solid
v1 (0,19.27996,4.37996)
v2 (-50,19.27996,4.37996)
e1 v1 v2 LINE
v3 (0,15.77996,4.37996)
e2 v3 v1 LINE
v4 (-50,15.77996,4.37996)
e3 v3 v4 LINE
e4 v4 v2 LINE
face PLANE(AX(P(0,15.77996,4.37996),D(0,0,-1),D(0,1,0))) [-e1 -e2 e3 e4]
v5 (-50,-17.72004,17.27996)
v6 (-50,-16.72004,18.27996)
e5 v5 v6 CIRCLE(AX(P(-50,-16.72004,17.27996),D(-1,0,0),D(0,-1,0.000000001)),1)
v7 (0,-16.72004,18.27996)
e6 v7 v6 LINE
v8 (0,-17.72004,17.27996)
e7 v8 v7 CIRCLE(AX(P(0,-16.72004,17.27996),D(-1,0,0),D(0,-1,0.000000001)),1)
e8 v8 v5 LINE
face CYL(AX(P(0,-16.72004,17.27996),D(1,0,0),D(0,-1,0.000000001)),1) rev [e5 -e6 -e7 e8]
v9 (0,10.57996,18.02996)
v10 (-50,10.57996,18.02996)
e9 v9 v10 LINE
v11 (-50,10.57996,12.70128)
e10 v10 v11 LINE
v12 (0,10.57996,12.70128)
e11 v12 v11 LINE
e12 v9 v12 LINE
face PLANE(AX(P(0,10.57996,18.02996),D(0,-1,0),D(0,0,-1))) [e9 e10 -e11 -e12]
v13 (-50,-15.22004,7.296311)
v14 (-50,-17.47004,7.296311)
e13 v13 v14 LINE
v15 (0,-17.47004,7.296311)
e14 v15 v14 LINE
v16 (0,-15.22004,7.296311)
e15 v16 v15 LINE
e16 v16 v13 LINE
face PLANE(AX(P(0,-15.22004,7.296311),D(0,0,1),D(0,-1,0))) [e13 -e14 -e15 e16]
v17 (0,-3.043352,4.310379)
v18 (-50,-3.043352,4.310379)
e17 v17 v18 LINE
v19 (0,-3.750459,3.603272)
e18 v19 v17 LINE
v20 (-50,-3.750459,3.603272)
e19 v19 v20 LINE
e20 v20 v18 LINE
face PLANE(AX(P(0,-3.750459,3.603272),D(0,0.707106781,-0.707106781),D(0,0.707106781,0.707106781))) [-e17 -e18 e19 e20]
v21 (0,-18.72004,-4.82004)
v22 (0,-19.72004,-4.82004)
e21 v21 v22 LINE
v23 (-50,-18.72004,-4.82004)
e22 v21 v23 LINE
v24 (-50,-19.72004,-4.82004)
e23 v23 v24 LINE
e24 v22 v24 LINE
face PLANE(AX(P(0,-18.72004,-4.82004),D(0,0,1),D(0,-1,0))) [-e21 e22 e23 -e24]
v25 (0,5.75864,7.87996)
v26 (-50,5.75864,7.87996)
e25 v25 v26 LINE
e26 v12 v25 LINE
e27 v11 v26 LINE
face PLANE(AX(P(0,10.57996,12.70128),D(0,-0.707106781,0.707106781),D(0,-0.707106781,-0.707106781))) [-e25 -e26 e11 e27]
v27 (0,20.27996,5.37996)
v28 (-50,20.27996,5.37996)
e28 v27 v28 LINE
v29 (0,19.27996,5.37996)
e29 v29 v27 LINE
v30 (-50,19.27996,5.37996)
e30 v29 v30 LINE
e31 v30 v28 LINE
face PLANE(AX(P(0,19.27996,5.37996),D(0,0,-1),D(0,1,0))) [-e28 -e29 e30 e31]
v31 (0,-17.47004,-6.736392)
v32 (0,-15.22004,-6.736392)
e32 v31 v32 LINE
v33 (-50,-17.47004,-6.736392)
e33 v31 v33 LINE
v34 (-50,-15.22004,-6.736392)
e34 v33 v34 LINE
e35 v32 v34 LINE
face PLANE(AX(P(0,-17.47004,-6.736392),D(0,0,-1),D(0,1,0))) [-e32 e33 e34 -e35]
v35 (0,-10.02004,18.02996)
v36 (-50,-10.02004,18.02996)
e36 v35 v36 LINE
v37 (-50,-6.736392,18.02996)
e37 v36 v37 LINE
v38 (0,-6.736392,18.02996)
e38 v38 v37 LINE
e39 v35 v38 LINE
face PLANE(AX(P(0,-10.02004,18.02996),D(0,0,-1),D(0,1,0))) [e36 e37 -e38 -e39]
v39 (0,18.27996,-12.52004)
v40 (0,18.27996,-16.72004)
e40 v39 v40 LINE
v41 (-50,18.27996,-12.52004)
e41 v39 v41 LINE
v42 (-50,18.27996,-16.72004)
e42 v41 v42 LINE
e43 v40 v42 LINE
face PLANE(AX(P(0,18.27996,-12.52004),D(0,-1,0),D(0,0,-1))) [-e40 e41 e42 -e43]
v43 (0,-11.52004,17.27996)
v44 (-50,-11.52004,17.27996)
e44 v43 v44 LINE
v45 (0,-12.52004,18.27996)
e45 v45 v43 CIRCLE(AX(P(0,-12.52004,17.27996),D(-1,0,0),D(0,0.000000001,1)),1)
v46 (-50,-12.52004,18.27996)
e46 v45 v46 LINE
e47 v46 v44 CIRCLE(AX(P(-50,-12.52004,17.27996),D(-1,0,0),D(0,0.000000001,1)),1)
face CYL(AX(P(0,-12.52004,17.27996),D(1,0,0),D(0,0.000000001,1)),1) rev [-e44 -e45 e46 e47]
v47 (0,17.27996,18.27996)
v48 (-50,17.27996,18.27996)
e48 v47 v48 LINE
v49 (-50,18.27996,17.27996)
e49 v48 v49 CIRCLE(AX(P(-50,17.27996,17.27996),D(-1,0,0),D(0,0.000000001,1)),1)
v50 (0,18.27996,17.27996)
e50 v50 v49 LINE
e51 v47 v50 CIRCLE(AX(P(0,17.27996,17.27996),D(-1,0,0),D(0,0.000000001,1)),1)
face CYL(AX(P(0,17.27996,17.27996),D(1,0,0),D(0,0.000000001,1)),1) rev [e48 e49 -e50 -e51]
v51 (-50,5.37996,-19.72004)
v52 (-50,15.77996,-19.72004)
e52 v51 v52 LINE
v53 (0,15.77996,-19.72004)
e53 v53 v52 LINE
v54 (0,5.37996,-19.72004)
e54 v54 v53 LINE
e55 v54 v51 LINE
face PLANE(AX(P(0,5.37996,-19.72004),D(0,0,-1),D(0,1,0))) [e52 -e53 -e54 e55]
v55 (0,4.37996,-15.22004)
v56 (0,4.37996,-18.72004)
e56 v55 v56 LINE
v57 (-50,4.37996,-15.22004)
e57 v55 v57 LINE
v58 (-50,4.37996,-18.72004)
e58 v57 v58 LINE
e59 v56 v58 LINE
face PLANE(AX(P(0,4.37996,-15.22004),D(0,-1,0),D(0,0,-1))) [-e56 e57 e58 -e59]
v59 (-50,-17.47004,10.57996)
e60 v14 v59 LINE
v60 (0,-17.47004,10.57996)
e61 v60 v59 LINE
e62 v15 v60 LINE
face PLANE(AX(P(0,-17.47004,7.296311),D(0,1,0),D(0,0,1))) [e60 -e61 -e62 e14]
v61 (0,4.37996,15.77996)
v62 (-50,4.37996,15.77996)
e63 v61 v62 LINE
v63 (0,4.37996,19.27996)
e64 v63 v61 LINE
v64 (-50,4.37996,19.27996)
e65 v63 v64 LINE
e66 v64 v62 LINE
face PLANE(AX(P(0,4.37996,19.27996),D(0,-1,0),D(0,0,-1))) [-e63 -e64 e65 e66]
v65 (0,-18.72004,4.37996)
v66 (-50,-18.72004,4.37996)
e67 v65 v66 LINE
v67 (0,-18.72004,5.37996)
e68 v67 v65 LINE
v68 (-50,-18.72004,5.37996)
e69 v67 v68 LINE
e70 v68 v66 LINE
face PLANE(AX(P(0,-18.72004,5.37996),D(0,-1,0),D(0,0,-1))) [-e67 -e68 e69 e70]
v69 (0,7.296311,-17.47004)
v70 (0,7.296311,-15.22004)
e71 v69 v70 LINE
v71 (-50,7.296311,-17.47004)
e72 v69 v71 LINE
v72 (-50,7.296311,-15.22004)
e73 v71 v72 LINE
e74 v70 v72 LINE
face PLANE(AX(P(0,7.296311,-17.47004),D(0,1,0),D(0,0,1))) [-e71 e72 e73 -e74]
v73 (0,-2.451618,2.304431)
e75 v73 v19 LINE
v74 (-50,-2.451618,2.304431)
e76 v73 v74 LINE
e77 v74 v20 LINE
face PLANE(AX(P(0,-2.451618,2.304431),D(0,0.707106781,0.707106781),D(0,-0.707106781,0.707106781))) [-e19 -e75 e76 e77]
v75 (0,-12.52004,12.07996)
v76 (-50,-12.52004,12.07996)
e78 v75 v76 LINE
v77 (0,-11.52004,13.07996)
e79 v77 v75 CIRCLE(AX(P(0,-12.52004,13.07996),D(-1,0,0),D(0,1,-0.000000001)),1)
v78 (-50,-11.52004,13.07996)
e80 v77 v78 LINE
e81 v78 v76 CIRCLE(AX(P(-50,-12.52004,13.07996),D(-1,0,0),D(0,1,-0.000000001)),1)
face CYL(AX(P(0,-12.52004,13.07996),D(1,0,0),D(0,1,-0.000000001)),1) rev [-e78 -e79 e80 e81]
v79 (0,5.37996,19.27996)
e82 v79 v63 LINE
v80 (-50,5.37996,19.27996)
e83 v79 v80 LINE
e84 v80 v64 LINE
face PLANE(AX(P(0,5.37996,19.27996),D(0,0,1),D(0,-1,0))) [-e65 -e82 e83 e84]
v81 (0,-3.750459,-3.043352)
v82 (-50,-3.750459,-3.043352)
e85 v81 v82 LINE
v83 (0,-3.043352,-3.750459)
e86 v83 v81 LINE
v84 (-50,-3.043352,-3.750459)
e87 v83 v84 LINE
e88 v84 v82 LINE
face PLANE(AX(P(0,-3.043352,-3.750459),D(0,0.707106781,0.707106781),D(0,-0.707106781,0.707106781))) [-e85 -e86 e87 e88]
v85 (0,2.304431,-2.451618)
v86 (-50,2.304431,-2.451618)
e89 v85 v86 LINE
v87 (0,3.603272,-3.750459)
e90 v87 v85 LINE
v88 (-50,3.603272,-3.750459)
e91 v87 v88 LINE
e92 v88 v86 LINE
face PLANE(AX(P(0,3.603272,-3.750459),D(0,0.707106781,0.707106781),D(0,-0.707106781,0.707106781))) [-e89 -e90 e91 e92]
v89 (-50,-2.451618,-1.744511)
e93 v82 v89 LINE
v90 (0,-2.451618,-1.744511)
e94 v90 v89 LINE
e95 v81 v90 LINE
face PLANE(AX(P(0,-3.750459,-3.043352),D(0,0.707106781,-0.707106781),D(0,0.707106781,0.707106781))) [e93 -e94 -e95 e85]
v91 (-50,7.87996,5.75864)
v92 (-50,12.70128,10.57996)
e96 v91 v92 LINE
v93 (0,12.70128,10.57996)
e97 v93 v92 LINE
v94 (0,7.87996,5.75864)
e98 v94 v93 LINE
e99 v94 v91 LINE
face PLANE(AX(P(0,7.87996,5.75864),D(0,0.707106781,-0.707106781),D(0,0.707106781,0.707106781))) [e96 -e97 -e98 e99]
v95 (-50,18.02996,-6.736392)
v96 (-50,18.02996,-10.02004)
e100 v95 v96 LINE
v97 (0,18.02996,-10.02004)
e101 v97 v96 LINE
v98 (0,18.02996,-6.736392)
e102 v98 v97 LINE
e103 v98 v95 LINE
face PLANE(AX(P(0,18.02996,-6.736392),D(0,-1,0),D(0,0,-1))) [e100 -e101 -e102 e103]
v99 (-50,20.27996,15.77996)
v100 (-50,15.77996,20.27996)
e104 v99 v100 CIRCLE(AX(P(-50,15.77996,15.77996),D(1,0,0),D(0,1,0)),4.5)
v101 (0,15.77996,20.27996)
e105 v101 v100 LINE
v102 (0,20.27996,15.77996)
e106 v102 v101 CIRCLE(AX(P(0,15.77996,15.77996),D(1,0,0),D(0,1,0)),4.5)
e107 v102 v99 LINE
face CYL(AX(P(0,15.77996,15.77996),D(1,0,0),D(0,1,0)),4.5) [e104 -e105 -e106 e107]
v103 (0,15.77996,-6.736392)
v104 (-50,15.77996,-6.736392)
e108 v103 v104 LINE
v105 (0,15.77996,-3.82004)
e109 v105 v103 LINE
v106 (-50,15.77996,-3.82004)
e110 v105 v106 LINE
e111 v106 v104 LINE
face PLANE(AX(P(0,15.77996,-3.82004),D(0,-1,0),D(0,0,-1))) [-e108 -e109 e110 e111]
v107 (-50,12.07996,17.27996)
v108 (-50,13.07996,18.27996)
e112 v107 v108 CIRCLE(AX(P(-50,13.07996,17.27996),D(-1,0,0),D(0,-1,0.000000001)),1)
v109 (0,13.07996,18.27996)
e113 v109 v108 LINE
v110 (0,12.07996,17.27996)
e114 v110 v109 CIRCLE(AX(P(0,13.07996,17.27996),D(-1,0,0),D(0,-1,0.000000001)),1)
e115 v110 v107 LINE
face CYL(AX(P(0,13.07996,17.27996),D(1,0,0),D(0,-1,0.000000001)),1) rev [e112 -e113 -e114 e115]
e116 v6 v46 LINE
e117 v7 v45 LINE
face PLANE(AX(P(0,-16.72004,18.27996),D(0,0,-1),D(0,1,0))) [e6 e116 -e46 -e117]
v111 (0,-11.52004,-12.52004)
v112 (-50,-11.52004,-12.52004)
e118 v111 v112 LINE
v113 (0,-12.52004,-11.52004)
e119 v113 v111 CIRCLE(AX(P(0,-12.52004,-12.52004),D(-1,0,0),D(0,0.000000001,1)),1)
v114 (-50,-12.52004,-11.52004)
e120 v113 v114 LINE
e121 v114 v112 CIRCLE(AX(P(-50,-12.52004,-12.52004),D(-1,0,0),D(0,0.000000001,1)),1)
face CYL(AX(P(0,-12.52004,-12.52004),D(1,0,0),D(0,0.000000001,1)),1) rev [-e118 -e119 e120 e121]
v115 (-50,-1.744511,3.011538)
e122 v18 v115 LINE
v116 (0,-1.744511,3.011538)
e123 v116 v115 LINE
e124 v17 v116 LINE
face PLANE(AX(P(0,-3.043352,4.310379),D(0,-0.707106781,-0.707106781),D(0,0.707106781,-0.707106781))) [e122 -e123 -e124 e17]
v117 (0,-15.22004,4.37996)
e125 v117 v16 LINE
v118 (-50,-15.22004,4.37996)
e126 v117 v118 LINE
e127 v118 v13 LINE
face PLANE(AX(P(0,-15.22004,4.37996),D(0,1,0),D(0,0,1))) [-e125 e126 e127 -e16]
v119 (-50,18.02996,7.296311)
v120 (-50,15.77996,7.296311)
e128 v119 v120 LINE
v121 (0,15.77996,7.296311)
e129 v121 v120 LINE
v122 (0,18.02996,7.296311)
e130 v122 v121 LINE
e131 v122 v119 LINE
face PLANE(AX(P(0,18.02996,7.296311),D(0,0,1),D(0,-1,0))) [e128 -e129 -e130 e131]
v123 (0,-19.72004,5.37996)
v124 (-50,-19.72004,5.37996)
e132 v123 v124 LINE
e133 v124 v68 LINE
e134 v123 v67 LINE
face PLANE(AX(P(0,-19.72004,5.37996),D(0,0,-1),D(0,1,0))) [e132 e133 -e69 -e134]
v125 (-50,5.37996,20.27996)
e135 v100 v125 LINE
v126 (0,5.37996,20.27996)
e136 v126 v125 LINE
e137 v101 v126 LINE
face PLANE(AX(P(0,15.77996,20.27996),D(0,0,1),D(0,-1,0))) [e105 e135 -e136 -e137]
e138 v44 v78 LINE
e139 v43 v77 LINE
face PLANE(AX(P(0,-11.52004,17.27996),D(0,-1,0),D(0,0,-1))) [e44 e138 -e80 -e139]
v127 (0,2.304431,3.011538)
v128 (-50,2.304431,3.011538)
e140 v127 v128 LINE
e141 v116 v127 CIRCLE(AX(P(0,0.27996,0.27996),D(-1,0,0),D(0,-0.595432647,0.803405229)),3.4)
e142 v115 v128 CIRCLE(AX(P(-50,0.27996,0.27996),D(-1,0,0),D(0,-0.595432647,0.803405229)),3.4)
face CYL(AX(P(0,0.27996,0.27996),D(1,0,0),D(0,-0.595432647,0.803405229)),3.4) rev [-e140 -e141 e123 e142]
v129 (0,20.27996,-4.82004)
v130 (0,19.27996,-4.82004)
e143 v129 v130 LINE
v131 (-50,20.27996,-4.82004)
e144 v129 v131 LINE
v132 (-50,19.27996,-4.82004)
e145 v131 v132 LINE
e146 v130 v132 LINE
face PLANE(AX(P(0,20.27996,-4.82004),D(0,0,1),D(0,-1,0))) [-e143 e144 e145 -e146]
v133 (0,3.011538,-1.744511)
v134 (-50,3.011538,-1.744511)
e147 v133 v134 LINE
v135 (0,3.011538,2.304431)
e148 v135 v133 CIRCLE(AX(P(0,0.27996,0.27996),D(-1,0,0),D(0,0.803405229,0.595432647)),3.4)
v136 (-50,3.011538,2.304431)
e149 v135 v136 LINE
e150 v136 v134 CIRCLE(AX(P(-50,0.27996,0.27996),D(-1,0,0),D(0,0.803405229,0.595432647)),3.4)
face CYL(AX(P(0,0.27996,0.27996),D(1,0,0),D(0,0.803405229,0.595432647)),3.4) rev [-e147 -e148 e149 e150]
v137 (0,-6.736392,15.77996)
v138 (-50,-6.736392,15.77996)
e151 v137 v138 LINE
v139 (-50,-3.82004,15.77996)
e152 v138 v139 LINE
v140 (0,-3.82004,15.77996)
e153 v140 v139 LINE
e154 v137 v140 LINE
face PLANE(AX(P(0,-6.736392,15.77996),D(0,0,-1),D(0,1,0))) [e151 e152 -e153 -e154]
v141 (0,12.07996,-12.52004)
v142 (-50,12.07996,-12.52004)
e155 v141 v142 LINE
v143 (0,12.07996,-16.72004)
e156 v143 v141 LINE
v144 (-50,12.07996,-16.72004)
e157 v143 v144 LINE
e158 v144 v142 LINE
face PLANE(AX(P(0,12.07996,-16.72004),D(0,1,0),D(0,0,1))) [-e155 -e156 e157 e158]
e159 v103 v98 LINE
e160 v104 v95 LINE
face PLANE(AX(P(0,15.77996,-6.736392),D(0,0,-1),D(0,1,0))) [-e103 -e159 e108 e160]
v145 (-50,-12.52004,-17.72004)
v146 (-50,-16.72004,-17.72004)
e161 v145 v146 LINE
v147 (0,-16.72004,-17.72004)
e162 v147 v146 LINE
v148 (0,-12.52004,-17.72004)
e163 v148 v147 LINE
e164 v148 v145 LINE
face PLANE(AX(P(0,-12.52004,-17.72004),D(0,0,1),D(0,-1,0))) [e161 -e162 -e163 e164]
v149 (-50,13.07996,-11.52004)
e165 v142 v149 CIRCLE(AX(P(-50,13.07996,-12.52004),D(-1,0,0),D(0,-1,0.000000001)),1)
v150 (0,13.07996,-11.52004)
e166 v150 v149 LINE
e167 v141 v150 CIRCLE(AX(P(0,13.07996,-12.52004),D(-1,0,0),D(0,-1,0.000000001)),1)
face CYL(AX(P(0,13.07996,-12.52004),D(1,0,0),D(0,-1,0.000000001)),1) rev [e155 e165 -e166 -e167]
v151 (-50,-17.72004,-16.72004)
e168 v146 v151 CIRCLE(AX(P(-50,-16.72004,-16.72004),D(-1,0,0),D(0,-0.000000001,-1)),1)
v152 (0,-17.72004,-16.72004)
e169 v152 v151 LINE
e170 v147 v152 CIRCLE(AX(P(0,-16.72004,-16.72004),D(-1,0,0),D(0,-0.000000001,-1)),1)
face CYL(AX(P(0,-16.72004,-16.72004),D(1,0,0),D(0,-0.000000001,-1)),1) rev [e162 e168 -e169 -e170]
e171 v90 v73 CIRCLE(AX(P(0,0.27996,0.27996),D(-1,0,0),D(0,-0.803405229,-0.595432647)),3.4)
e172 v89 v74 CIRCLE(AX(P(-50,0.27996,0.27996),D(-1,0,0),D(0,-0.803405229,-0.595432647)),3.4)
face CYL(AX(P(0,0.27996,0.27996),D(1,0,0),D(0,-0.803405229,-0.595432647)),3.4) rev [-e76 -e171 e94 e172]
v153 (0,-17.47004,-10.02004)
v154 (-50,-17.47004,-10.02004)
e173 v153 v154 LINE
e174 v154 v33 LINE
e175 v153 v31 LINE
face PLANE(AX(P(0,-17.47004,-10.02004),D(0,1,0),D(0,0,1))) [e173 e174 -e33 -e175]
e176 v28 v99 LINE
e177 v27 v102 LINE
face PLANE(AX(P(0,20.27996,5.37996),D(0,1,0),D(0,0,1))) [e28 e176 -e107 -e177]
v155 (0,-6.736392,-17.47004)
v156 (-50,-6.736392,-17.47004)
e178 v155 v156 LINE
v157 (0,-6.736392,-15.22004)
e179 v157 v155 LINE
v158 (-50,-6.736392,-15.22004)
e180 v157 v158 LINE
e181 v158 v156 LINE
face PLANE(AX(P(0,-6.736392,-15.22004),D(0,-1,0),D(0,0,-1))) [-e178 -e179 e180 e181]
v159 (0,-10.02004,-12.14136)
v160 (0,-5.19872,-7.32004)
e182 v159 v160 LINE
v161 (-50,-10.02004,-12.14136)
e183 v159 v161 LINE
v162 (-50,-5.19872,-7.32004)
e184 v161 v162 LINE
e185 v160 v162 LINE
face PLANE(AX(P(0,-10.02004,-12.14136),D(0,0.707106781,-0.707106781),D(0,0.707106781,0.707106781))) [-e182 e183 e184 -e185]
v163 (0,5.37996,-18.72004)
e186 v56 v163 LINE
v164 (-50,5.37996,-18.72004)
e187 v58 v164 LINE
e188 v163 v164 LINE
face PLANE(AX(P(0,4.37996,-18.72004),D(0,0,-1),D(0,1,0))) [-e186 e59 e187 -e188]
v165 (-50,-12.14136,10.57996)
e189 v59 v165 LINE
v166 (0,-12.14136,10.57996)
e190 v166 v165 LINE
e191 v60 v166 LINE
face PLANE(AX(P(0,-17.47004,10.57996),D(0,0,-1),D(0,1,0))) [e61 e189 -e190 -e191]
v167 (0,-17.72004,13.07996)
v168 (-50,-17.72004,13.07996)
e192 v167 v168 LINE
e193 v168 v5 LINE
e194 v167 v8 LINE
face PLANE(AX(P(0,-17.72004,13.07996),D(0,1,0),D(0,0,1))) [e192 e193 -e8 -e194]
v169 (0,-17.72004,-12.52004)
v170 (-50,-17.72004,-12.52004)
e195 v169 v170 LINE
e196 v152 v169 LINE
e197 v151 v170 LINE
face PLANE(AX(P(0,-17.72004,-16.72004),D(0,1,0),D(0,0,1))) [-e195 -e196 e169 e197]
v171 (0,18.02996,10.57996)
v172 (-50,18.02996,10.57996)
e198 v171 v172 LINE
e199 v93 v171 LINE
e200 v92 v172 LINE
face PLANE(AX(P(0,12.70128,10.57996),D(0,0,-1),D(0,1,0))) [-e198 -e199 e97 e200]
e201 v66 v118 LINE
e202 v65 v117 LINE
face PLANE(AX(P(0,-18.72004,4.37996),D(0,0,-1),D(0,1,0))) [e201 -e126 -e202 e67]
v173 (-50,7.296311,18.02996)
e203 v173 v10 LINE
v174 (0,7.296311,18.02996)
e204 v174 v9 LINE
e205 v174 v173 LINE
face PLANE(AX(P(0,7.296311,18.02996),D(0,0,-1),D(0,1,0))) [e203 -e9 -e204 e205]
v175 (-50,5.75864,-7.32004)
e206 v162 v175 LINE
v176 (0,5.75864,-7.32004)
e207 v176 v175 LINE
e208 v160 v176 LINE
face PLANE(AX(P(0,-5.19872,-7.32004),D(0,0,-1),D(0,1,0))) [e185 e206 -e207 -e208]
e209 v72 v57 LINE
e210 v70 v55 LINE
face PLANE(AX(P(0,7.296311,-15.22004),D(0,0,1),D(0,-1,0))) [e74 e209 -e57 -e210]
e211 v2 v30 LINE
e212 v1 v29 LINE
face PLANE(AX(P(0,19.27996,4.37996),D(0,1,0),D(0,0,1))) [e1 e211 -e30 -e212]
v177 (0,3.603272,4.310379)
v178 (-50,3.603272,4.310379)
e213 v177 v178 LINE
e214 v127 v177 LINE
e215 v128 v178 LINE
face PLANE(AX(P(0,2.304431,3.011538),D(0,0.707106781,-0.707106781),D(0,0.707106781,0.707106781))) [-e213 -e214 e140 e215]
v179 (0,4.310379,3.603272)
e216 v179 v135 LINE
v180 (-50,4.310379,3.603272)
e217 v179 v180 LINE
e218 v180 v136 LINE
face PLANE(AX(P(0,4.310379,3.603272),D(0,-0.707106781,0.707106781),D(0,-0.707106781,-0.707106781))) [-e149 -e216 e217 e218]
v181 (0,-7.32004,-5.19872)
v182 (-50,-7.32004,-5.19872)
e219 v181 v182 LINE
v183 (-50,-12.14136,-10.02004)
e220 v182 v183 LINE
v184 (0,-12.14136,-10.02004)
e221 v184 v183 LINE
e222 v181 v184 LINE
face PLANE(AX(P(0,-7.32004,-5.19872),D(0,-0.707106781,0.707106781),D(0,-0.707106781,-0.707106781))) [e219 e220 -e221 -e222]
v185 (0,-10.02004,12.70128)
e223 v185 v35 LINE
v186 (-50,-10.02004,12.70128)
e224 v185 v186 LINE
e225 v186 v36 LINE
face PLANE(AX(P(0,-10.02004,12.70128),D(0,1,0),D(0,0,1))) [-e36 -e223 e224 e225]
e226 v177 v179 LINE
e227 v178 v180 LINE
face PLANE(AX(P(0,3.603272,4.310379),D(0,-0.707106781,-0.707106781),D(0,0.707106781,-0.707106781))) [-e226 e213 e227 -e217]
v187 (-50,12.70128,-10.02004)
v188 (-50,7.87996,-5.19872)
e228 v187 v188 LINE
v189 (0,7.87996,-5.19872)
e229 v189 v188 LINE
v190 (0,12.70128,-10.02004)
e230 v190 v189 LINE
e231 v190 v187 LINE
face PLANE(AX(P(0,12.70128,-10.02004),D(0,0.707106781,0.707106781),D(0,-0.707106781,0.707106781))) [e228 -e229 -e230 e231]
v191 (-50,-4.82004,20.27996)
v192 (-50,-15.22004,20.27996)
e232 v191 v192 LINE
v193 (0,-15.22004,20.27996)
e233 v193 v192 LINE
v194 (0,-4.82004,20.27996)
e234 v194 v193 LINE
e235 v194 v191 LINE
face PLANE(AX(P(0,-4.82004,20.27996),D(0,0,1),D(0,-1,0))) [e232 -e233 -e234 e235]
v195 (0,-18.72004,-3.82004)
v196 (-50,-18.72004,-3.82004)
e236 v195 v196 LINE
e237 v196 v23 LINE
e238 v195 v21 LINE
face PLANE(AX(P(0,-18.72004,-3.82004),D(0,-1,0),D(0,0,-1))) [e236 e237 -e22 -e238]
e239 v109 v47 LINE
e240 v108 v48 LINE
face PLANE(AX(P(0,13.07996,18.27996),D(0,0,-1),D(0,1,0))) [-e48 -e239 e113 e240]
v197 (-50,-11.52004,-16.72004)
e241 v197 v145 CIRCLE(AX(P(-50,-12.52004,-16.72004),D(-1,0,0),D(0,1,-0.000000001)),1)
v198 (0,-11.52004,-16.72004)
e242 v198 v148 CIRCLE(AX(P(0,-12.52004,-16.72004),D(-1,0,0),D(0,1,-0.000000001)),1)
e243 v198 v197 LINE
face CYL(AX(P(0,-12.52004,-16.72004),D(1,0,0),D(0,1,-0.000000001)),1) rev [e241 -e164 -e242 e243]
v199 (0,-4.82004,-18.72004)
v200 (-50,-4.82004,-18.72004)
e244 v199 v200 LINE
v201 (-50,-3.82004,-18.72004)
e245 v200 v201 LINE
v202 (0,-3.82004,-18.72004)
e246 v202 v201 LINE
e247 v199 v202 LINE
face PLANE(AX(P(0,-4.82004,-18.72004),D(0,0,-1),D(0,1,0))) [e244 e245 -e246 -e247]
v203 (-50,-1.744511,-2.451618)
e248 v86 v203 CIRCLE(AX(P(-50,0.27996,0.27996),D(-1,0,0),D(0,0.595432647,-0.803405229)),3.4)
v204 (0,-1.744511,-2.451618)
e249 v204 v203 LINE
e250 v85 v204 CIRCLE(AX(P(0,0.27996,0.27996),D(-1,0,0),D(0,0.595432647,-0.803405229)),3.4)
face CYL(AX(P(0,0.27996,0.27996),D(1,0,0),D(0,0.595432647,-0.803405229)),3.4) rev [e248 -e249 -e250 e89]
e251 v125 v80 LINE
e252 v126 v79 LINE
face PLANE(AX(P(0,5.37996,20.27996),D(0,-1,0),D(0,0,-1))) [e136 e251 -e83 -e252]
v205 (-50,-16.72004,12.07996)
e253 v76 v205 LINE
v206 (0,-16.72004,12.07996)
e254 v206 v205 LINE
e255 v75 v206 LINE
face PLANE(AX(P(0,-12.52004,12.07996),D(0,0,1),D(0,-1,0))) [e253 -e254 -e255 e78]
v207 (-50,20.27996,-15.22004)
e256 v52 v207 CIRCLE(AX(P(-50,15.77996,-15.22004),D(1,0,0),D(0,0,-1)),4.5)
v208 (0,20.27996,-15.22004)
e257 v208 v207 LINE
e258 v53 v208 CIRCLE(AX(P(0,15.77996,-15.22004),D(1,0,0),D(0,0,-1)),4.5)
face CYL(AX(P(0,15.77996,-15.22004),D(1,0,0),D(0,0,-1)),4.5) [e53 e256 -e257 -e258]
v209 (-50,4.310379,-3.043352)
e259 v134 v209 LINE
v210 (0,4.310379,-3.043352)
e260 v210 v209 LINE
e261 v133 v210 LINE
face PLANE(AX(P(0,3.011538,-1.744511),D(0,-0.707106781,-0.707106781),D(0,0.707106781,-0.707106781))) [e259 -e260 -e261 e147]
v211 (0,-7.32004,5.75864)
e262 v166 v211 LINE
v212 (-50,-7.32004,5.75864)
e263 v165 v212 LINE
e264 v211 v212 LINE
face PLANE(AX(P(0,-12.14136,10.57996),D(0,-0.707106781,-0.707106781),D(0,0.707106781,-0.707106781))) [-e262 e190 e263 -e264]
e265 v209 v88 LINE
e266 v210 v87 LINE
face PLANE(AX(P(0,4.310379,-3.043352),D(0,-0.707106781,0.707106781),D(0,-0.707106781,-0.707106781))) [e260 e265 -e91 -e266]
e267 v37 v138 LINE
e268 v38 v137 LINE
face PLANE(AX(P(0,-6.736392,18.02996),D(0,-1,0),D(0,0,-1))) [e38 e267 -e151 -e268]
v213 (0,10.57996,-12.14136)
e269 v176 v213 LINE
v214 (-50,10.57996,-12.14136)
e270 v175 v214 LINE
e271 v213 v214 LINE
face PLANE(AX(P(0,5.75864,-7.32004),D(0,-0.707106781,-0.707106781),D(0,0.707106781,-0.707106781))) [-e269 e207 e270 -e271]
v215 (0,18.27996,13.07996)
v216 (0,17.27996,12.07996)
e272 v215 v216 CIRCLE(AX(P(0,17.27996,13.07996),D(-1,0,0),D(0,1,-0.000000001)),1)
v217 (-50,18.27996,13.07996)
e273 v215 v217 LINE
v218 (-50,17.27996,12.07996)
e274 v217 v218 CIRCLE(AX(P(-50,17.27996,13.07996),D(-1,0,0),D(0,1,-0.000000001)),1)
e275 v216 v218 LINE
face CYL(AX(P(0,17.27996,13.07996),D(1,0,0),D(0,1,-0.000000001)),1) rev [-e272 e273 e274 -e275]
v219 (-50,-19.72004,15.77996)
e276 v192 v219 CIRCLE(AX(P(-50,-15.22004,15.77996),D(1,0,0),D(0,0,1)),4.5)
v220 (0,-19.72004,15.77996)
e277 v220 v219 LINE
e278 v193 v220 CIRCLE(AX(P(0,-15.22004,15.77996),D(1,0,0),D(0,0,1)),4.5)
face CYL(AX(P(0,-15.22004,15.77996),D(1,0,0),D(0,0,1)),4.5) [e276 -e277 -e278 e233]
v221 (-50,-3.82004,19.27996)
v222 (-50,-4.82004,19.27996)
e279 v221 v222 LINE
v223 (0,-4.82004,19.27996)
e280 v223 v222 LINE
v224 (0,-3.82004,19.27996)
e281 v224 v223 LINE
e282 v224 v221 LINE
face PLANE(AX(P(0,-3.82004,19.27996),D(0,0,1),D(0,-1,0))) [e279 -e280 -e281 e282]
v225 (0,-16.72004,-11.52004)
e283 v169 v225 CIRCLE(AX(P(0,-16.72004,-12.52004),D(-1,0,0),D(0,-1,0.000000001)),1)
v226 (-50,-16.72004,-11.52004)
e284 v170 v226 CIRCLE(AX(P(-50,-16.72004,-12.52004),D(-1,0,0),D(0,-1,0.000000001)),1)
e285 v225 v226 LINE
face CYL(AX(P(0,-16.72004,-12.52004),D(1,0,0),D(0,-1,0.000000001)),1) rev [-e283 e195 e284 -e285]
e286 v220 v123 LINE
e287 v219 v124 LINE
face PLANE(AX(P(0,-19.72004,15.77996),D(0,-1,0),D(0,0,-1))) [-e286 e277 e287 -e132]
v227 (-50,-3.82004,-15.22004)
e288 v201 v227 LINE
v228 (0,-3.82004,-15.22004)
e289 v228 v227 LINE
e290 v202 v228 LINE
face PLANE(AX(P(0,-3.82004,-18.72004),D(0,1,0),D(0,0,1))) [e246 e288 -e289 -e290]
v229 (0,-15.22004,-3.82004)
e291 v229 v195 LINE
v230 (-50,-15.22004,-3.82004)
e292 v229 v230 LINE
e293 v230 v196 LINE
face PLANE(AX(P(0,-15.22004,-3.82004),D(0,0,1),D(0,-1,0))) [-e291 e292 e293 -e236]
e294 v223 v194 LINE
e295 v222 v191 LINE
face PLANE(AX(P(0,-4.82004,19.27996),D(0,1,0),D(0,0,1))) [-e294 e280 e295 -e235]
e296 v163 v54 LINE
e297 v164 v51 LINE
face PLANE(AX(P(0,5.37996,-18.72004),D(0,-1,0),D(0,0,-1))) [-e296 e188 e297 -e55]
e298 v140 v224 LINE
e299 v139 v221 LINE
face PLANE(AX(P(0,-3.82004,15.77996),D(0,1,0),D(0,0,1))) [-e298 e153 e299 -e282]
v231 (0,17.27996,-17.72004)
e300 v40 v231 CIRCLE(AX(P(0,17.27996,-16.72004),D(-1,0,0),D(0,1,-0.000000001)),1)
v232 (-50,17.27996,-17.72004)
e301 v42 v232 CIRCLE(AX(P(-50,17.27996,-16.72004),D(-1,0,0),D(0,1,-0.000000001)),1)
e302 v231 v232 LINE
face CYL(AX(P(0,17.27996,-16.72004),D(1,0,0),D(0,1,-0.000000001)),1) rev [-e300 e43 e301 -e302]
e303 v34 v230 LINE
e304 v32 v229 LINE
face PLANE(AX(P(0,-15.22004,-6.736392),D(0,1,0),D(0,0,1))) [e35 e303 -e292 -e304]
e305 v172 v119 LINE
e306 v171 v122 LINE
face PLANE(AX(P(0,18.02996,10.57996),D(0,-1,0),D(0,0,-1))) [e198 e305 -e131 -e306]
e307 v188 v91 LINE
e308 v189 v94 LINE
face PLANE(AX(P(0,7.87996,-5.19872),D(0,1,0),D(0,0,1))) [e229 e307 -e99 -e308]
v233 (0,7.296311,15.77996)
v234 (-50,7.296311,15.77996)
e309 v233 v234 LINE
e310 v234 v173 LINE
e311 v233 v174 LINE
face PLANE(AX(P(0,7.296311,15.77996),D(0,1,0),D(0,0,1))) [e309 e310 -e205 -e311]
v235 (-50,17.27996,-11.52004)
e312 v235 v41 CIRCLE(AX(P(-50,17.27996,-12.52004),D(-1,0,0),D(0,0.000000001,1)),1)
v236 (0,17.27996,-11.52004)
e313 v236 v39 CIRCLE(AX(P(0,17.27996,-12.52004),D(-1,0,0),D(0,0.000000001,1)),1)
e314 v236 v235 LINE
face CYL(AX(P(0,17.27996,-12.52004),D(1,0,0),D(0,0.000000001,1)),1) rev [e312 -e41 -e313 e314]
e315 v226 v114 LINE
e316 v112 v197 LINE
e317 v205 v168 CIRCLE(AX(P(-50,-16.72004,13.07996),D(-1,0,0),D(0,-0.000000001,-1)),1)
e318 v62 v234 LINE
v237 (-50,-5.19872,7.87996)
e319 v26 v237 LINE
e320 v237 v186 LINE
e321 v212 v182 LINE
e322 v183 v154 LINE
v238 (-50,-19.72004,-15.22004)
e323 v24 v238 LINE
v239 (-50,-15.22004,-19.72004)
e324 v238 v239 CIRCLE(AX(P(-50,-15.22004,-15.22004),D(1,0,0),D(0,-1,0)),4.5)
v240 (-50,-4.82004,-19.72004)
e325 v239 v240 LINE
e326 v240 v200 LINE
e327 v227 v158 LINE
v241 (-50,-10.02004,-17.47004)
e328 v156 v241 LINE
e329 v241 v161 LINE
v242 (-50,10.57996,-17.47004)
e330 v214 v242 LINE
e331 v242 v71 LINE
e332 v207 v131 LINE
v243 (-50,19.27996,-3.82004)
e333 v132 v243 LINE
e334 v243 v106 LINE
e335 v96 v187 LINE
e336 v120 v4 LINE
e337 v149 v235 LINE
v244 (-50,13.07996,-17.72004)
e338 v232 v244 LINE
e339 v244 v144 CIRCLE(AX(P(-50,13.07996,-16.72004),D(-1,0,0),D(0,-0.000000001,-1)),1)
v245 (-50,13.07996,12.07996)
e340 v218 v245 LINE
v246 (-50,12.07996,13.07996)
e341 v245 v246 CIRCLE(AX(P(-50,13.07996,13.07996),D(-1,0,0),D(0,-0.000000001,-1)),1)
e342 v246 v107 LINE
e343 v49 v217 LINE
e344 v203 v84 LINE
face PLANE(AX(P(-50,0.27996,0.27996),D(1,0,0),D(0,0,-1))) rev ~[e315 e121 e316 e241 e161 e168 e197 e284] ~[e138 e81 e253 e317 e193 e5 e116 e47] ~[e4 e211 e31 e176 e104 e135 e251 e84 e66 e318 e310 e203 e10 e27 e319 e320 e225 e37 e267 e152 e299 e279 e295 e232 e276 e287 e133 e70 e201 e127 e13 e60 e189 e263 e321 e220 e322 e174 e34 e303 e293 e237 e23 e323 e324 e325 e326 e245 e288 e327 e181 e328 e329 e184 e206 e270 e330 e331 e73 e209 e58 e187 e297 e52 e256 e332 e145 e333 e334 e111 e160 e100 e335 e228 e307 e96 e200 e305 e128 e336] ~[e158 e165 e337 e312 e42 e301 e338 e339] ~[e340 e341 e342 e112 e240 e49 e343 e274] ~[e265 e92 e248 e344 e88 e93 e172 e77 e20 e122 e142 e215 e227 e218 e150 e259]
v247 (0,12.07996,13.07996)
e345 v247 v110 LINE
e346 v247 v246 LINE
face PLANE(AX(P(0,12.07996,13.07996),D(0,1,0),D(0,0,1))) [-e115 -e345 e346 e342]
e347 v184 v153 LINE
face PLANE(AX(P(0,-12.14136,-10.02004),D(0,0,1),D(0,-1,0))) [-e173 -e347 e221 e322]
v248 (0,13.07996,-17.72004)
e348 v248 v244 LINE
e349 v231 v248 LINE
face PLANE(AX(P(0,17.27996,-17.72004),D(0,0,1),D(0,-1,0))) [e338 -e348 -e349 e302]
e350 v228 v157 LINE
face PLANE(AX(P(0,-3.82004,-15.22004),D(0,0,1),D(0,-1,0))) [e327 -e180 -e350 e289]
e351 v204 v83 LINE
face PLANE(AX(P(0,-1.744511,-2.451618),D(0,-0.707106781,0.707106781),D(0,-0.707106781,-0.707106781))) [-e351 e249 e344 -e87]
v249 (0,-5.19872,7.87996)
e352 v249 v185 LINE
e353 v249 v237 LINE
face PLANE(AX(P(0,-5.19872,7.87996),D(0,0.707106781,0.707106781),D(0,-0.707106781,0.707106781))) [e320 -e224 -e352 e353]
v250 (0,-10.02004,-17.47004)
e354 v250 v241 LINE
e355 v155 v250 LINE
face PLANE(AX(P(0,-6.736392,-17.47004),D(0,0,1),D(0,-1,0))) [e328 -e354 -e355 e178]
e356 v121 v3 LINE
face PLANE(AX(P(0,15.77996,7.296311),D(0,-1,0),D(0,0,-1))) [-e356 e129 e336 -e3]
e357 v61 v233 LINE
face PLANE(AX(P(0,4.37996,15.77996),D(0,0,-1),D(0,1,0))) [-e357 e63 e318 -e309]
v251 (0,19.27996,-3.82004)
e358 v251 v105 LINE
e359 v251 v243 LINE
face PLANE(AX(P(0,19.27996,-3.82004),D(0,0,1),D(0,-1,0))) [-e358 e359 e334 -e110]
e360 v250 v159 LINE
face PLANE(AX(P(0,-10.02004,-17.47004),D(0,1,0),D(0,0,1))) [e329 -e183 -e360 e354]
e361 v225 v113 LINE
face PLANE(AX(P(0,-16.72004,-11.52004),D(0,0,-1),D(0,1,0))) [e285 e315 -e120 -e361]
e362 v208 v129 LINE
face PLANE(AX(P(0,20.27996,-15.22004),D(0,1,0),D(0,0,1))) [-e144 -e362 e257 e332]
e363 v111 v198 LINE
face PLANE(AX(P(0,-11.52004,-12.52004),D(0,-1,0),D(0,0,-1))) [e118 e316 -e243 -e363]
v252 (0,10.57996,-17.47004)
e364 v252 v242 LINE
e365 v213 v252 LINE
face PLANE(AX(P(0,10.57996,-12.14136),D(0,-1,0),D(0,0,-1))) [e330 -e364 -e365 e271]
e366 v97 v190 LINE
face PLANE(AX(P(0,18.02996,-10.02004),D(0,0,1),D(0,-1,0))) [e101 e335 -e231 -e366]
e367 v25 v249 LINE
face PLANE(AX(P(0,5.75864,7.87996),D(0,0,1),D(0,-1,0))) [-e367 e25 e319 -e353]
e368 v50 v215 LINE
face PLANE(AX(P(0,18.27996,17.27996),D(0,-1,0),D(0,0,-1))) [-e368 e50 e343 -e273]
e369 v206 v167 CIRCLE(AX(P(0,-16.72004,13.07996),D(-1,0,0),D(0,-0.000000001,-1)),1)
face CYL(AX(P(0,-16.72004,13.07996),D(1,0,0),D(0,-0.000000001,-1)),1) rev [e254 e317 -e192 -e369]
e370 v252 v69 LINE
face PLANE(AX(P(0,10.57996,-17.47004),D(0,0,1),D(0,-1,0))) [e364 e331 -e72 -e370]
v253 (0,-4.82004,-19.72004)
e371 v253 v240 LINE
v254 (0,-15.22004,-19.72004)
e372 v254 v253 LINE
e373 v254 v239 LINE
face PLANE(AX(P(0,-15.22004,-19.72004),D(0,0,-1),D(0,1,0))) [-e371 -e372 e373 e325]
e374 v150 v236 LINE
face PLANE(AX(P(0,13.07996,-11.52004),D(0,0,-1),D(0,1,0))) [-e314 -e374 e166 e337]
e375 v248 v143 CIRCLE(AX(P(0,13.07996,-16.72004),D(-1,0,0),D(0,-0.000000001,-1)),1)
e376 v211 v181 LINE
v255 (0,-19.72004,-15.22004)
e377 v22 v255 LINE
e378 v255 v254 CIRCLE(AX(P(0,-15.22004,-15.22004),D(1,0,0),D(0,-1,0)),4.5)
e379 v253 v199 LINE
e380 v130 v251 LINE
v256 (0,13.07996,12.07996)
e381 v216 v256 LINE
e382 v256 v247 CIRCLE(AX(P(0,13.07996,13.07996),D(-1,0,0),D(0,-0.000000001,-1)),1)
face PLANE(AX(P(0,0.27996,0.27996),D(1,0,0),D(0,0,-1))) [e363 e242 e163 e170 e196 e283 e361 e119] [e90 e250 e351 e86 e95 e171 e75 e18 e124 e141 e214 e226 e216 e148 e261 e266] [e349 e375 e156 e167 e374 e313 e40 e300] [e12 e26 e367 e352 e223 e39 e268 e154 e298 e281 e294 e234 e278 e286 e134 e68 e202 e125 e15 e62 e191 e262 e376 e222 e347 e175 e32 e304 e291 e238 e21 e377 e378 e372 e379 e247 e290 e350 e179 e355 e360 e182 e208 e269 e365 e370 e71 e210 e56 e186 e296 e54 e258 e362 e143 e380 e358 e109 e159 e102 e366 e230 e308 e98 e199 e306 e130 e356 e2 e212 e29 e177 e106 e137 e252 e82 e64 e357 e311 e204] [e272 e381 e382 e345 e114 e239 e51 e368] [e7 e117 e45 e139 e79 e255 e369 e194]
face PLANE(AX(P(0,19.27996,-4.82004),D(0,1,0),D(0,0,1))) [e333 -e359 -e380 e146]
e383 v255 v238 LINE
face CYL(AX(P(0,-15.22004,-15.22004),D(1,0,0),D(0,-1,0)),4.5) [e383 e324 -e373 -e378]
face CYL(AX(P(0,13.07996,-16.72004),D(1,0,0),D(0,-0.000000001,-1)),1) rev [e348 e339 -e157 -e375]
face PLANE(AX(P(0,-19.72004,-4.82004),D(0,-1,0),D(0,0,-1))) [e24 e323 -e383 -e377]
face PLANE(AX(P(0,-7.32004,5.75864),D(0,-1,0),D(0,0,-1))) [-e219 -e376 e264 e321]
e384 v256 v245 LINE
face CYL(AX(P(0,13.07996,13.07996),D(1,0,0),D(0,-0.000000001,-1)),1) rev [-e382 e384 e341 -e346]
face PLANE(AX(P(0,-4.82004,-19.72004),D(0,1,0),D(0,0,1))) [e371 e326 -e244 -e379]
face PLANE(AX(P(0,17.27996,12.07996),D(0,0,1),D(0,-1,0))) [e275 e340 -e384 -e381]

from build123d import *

# Parameters (mm, degrees)
EXTRUDE_1_DEPTH = 50


with BuildPart() as part:
    # 草图1 → 凸台-拉伸1 (new body)
    with BuildSketch(Plane(origin=(0, 0, 0), x_dir=(0, 0, -1), z_dir=(1, 0, 0))):
        with BuildLine():
            Line((4.82004008, 19.27995992), (3.82004008, 19.27995992))
            Line((3.82004008, 19.27995992), (3.82004008, 15.77995992))
            Line((3.82004008, 15.77995992), (6.73639159, 15.77995992))
            Line((6.73639159, 15.77995992), (6.73639159, 18.02995992))
            Line((6.73639159, 18.02995992), (10.02004008, 18.02995992))
            Line((10.02004008, 18.02995992), (10.02004008, 12.70128026))
            Line((10.02004008, 12.70128026), (5.19871974, 7.87995992))
            Line((5.19871974, 7.87995992), (-5.75863958, 7.87995992))
            Line((-5.75863958, 7.87995992), (-10.57995992, 12.70128026))
            Line((-10.57995992, 12.70128026), (-10.57995992, 18.02995992))
            Line((-10.57995992, 18.02995992), (-7.29631143, 18.02995992))
            Line((-7.29631143, 18.02995992), (-7.29631143, 15.77995992))
            Line((-7.29631143, 15.77995992), (-4.37995992, 15.77995992))
            Line((-4.37995992, 15.77995992), (-4.37995992, 19.27995992))
            Line((-4.37995992, 19.27995992), (-5.37995992, 19.27995992))
            Line((-5.37995992, 19.27995992), (-5.37995992, 20.27995992))
            Line((-5.37995992, 20.27995992), (-15.77995992, 20.27995992))
            ThreePointArc((-15.77995992, 20.27995992), (-18.961940435, 18.961940435), (-20.27995992, 15.77995992))
            Line((-20.27995992, 15.77995992), (-20.27995992, 5.37995992))
            Line((-20.27995992, 5.37995992), (-19.27995992, 5.37995992))
            Line((-19.27995992, 5.37995992), (-19.27995992, 4.37995992))
            Line((-19.27995992, 4.37995992), (-15.77995992, 4.37995992))
            Line((-15.77995992, 4.37995992), (-15.77995992, 7.29631143))
            Line((-15.77995992, 7.29631143), (-18.02995992, 7.29631143))
            Line((-18.02995992, 7.29631143), (-18.02995992, 10.57995992))
            Line((-18.02995992, 10.57995992), (-12.70128026, 10.57995992))
            Line((-12.70128026, 10.57995992), (-7.87995992, 5.75863958))
            Line((-7.87995992, 5.75863958), (-7.87995992, -5.19871974))
            Line((-7.87995992, -5.19871974), (-12.70128026, -10.02004008))
            Line((-12.70128026, -10.02004008), (-18.02995992, -10.02004008))
            Line((-18.02995992, -10.02004008), (-18.02995992, -6.73639159))
            Line((-18.02995992, -6.73639159), (-15.77995992, -6.73639159))
            Line((-15.77995992, -6.73639159), (-15.77995992, -3.82004008))
            Line((-15.77995992, -3.82004008), (-19.27995992, -3.82004008))
            Line((-19.27995992, -3.82004008), (-19.27995992, -4.82004008))
            Line((-19.27995992, -4.82004008), (-20.27995992, -4.82004008))
            Line((-20.27995992, -4.82004008), (-20.27995992, -15.22004008))
            ThreePointArc((-20.27995992, -15.22004008), (-18.961940435, -18.402020595), (-15.77995992, -19.72004008))
            Line((-15.77995992, -19.72004008), (-5.37995992, -19.72004008))
            Line((-5.37995992, -19.72004008), (-5.37995992, -18.72004008))
            Line((-5.37995992, -18.72004008), (-4.37995992, -18.72004008))
            Line((-4.37995992, -18.72004008), (-4.37995992, -15.22004008))
            Line((-4.37995992, -15.22004008), (-7.29631143, -15.22004008))
            Line((-7.29631143, -15.22004008), (-7.29631143, -17.47004008))
            Line((-7.29631143, -17.47004008), (-10.57995992, -17.47004008))
            Line((-10.57995992, -17.47004008), (-10.57995992, -12.14136042))
            Line((-10.57995992, -12.14136042), (-5.75863958, -7.32004008))
            Line((-5.75863958, -7.32004008), (5.19871974, -7.32004008))
            Line((5.19871974, -7.32004008), (10.02004008, -12.14136042))
            Line((10.02004008, -12.14136042), (10.02004008, -17.47004008))
            Line((10.02004008, -17.47004008), (6.73639159, -17.47004008))
            Line((6.73639159, -17.47004008), (6.73639159, -15.22004008))
            Line((6.73639159, -15.22004008), (3.82004008, -15.22004008))
            Line((3.82004008, -15.22004008), (3.82004008, -18.72004008))
            Line((3.82004008, -18.72004008), (4.82004008, -18.72004008))
            Line((4.82004008, -18.72004008), (4.82004008, -19.72004008))
            Line((4.82004008, -19.72004008), (15.22004008, -19.72004008))
            ThreePointArc((15.22004008, -19.72004008), (18.402020595, -18.402020595), (19.72004008, -15.22004008))
            Line((19.72004008, -15.22004008), (19.72004008, -4.82004008))
            Line((19.72004008, -4.82004008), (18.72004008, -4.82004008))
            Line((18.72004008, -4.82004008), (18.72004008, -3.82004008))
            Line((18.72004008, -3.82004008), (15.22004008, -3.82004008))
            Line((15.22004008, -3.82004008), (15.22004008, -6.73639159))
            Line((15.22004008, -6.73639159), (17.47004008, -6.73639159))
            Line((17.47004008, -6.73639159), (17.47004008, -10.02004008))
            Line((17.47004008, -10.02004008), (12.14136042, -10.02004008))
            Line((12.14136042, -10.02004008), (7.32004008, -5.19871974))
            Line((7.32004008, -5.19871974), (7.32004008, 5.75863958))
            Line((7.32004008, 5.75863958), (12.14136042, 10.57995992))
            Line((12.14136042, 10.57995992), (17.47004008, 10.57995992))
            Line((17.47004008, 10.57995992), (17.47004008, 7.29631143))
            Line((17.47004008, 7.29631143), (15.22004008, 7.29631143))
            Line((15.22004008, 7.29631143), (15.22004008, 4.37995992))
            Line((15.22004008, 4.37995992), (18.72004008, 4.37995992))
            Line((18.72004008, 4.37995992), (18.72004008, 5.37995992))
            Line((18.72004008, 5.37995992), (19.72004008, 5.37995992))
            Line((19.72004008, 5.37995992), (19.72004008, 15.77995992))
            ThreePointArc((19.72004008, 15.77995992), (18.402020595, 18.961940435), (15.22004008, 20.27995992))
            Line((15.22004008, 20.27995992), (4.82004008, 20.27995992))
            Line((4.82004008, 20.27995992), (4.82004008, 19.27995992))
        make_face()
        with BuildLine():
            Line((-13.07995992, -17.72004008), (-17.27995992, -17.72004008))
            ThreePointArc((-17.27995992, -17.72004008), (-17.987066701, -17.427146861), (-18.27995992, -16.72004008))
            Line((-18.27995992, -16.72004008), (-18.27995992, -12.52004008))
            ThreePointArc((-18.27995992, -12.52004008), (-17.987066701, -11.812933299), (-17.27995992, -11.52004008))
            Line((-17.27995992, -11.52004008), (-13.07995992, -11.52004008))
            ThreePointArc((-13.07995992, -11.52004008), (-12.372853139, -11.812933299), (-12.07995992, -12.52004008))
            Line((-12.07995992, -12.52004008), (-12.07995992, -16.72004008))
            ThreePointArc((-12.07995992, -16.72004008), (-12.372853139, -17.427146861), (-13.07995992, -17.72004008))
        make_face(mode=Mode.SUBTRACT)
        with BuildLine():
            Line((-17.27995992, 18.27995992), (-13.07995992, 18.27995992))
            ThreePointArc((-13.07995992, 18.27995992), (-12.372853139, 17.987066701), (-12.07995992, 17.27995992))
            Line((-12.07995992, 17.27995992), (-12.07995992, 13.07995992))
            ThreePointArc((-12.07995992, 13.07995992), (-12.372853139, 12.372853139), (-13.07995992, 12.07995992))
            Line((-13.07995992, 12.07995992), (-17.27995992, 12.07995992))
            ThreePointArc((-17.27995992, 12.07995992), (-17.987066701, 12.372853139), (-18.27995992, 13.07995992))
            Line((-18.27995992, 13.07995992), (-18.27995992, 17.27995992))
            ThreePointArc((-18.27995992, 17.27995992), (-17.987066701, 17.987066701), (-17.27995992, 18.27995992))
        make_face(mode=Mode.SUBTRACT)
        with BuildLine():
            Line((16.72004008, 12.07995992), (12.52004008, 12.07995992))
            ThreePointArc((12.52004008, 12.07995992), (11.812933299, 12.372853139), (11.52004008, 13.07995992))
            Line((11.52004008, 13.07995992), (11.52004008, 17.27995992))
            ThreePointArc((11.52004008, 17.27995992), (11.812933299, 17.987066701), (12.52004008, 18.27995992))
            Line((12.52004008, 18.27995992), (16.72004008, 18.27995992))
            ThreePointArc((16.72004008, 18.27995992), (17.427146861, 17.987066701), (17.72004008, 17.27995992))
            Line((17.72004008, 17.27995992), (17.72004008, 13.07995992))
            ThreePointArc((17.72004008, 13.07995992), (17.427146861, 12.372853139), (16.72004008, 12.07995992))
        make_face(mode=Mode.SUBTRACT)
        with BuildLine():
            Line((3.75045895, -3.04335217), (3.04335217, -3.75045895))
            Line((3.04335217, -3.75045895), (1.74451108, -2.45161786))
            ThreePointArc((1.74451108, -2.45161786), (-0.27995992, -3.12004008), (-2.30443092, -2.45161786))
            Line((-2.30443092, -2.45161786), (-3.60327201, -3.75045895))
            Line((-3.60327201, -3.75045895), (-4.31037879, -3.04335217))
            Line((-4.31037879, -3.04335217), (-3.0115377, -1.74451108))
            ThreePointArc((-3.0115377, -1.74451108), (-3.67995992, 0.27995992), (-3.0115377, 2.30443092))
            Line((-3.0115377, 2.30443092), (-4.31037879, 3.60327201))
            Line((-4.31037879, 3.60327201), (-3.60327201, 4.31037879))
            Line((-3.60327201, 4.31037879), (-2.30443092, 3.0115377))
            ThreePointArc((-2.30443092, 3.0115377), (-0.27995992, 3.67995992), (1.74451108, 3.0115377))
            Line((1.74451108, 3.0115377), (3.04335217, 4.31037879))
            Line((3.04335217, 4.31037879), (3.75045895, 3.60327201))
            Line((3.75045895, 3.60327201), (2.45161786, 2.30443092))
            ThreePointArc((2.45161786, 2.30443092), (3.12004008, 0.27995992), (2.45161786, -1.74451108))
            Line((2.45161786, -1.74451108), (3.75045895, -3.04335217))
        make_face(mode=Mode.SUBTRACT)
        with BuildLine():
            Line((17.72004008, -12.52004008), (17.72004008, -16.72004008))
            ThreePointArc((17.72004008, -16.72004008), (17.427146861, -17.427146861), (16.72004008, -17.72004008))
            Line((16.72004008, -17.72004008), (12.52004008, -17.72004008))
            ThreePointArc((12.52004008, -17.72004008), (11.812933299, -17.427146861), (11.52004008, -16.72004008))
            Line((11.52004008, -16.72004008), (11.52004008, -12.52004008))
            ThreePointArc((11.52004008, -12.52004008), (11.812933299, -11.812933299), (12.52004008, -11.52004008))
            Line((12.52004008, -11.52004008), (16.72004008, -11.52004008))
            ThreePointArc((16.72004008, -11.52004008), (17.427146861, -11.812933299), (17.72004008, -12.52004008))
        make_face(mode=Mode.SUBTRACT)
    extrude(amount=-EXTRUDE_1_DEPTH)


solid = part.part
